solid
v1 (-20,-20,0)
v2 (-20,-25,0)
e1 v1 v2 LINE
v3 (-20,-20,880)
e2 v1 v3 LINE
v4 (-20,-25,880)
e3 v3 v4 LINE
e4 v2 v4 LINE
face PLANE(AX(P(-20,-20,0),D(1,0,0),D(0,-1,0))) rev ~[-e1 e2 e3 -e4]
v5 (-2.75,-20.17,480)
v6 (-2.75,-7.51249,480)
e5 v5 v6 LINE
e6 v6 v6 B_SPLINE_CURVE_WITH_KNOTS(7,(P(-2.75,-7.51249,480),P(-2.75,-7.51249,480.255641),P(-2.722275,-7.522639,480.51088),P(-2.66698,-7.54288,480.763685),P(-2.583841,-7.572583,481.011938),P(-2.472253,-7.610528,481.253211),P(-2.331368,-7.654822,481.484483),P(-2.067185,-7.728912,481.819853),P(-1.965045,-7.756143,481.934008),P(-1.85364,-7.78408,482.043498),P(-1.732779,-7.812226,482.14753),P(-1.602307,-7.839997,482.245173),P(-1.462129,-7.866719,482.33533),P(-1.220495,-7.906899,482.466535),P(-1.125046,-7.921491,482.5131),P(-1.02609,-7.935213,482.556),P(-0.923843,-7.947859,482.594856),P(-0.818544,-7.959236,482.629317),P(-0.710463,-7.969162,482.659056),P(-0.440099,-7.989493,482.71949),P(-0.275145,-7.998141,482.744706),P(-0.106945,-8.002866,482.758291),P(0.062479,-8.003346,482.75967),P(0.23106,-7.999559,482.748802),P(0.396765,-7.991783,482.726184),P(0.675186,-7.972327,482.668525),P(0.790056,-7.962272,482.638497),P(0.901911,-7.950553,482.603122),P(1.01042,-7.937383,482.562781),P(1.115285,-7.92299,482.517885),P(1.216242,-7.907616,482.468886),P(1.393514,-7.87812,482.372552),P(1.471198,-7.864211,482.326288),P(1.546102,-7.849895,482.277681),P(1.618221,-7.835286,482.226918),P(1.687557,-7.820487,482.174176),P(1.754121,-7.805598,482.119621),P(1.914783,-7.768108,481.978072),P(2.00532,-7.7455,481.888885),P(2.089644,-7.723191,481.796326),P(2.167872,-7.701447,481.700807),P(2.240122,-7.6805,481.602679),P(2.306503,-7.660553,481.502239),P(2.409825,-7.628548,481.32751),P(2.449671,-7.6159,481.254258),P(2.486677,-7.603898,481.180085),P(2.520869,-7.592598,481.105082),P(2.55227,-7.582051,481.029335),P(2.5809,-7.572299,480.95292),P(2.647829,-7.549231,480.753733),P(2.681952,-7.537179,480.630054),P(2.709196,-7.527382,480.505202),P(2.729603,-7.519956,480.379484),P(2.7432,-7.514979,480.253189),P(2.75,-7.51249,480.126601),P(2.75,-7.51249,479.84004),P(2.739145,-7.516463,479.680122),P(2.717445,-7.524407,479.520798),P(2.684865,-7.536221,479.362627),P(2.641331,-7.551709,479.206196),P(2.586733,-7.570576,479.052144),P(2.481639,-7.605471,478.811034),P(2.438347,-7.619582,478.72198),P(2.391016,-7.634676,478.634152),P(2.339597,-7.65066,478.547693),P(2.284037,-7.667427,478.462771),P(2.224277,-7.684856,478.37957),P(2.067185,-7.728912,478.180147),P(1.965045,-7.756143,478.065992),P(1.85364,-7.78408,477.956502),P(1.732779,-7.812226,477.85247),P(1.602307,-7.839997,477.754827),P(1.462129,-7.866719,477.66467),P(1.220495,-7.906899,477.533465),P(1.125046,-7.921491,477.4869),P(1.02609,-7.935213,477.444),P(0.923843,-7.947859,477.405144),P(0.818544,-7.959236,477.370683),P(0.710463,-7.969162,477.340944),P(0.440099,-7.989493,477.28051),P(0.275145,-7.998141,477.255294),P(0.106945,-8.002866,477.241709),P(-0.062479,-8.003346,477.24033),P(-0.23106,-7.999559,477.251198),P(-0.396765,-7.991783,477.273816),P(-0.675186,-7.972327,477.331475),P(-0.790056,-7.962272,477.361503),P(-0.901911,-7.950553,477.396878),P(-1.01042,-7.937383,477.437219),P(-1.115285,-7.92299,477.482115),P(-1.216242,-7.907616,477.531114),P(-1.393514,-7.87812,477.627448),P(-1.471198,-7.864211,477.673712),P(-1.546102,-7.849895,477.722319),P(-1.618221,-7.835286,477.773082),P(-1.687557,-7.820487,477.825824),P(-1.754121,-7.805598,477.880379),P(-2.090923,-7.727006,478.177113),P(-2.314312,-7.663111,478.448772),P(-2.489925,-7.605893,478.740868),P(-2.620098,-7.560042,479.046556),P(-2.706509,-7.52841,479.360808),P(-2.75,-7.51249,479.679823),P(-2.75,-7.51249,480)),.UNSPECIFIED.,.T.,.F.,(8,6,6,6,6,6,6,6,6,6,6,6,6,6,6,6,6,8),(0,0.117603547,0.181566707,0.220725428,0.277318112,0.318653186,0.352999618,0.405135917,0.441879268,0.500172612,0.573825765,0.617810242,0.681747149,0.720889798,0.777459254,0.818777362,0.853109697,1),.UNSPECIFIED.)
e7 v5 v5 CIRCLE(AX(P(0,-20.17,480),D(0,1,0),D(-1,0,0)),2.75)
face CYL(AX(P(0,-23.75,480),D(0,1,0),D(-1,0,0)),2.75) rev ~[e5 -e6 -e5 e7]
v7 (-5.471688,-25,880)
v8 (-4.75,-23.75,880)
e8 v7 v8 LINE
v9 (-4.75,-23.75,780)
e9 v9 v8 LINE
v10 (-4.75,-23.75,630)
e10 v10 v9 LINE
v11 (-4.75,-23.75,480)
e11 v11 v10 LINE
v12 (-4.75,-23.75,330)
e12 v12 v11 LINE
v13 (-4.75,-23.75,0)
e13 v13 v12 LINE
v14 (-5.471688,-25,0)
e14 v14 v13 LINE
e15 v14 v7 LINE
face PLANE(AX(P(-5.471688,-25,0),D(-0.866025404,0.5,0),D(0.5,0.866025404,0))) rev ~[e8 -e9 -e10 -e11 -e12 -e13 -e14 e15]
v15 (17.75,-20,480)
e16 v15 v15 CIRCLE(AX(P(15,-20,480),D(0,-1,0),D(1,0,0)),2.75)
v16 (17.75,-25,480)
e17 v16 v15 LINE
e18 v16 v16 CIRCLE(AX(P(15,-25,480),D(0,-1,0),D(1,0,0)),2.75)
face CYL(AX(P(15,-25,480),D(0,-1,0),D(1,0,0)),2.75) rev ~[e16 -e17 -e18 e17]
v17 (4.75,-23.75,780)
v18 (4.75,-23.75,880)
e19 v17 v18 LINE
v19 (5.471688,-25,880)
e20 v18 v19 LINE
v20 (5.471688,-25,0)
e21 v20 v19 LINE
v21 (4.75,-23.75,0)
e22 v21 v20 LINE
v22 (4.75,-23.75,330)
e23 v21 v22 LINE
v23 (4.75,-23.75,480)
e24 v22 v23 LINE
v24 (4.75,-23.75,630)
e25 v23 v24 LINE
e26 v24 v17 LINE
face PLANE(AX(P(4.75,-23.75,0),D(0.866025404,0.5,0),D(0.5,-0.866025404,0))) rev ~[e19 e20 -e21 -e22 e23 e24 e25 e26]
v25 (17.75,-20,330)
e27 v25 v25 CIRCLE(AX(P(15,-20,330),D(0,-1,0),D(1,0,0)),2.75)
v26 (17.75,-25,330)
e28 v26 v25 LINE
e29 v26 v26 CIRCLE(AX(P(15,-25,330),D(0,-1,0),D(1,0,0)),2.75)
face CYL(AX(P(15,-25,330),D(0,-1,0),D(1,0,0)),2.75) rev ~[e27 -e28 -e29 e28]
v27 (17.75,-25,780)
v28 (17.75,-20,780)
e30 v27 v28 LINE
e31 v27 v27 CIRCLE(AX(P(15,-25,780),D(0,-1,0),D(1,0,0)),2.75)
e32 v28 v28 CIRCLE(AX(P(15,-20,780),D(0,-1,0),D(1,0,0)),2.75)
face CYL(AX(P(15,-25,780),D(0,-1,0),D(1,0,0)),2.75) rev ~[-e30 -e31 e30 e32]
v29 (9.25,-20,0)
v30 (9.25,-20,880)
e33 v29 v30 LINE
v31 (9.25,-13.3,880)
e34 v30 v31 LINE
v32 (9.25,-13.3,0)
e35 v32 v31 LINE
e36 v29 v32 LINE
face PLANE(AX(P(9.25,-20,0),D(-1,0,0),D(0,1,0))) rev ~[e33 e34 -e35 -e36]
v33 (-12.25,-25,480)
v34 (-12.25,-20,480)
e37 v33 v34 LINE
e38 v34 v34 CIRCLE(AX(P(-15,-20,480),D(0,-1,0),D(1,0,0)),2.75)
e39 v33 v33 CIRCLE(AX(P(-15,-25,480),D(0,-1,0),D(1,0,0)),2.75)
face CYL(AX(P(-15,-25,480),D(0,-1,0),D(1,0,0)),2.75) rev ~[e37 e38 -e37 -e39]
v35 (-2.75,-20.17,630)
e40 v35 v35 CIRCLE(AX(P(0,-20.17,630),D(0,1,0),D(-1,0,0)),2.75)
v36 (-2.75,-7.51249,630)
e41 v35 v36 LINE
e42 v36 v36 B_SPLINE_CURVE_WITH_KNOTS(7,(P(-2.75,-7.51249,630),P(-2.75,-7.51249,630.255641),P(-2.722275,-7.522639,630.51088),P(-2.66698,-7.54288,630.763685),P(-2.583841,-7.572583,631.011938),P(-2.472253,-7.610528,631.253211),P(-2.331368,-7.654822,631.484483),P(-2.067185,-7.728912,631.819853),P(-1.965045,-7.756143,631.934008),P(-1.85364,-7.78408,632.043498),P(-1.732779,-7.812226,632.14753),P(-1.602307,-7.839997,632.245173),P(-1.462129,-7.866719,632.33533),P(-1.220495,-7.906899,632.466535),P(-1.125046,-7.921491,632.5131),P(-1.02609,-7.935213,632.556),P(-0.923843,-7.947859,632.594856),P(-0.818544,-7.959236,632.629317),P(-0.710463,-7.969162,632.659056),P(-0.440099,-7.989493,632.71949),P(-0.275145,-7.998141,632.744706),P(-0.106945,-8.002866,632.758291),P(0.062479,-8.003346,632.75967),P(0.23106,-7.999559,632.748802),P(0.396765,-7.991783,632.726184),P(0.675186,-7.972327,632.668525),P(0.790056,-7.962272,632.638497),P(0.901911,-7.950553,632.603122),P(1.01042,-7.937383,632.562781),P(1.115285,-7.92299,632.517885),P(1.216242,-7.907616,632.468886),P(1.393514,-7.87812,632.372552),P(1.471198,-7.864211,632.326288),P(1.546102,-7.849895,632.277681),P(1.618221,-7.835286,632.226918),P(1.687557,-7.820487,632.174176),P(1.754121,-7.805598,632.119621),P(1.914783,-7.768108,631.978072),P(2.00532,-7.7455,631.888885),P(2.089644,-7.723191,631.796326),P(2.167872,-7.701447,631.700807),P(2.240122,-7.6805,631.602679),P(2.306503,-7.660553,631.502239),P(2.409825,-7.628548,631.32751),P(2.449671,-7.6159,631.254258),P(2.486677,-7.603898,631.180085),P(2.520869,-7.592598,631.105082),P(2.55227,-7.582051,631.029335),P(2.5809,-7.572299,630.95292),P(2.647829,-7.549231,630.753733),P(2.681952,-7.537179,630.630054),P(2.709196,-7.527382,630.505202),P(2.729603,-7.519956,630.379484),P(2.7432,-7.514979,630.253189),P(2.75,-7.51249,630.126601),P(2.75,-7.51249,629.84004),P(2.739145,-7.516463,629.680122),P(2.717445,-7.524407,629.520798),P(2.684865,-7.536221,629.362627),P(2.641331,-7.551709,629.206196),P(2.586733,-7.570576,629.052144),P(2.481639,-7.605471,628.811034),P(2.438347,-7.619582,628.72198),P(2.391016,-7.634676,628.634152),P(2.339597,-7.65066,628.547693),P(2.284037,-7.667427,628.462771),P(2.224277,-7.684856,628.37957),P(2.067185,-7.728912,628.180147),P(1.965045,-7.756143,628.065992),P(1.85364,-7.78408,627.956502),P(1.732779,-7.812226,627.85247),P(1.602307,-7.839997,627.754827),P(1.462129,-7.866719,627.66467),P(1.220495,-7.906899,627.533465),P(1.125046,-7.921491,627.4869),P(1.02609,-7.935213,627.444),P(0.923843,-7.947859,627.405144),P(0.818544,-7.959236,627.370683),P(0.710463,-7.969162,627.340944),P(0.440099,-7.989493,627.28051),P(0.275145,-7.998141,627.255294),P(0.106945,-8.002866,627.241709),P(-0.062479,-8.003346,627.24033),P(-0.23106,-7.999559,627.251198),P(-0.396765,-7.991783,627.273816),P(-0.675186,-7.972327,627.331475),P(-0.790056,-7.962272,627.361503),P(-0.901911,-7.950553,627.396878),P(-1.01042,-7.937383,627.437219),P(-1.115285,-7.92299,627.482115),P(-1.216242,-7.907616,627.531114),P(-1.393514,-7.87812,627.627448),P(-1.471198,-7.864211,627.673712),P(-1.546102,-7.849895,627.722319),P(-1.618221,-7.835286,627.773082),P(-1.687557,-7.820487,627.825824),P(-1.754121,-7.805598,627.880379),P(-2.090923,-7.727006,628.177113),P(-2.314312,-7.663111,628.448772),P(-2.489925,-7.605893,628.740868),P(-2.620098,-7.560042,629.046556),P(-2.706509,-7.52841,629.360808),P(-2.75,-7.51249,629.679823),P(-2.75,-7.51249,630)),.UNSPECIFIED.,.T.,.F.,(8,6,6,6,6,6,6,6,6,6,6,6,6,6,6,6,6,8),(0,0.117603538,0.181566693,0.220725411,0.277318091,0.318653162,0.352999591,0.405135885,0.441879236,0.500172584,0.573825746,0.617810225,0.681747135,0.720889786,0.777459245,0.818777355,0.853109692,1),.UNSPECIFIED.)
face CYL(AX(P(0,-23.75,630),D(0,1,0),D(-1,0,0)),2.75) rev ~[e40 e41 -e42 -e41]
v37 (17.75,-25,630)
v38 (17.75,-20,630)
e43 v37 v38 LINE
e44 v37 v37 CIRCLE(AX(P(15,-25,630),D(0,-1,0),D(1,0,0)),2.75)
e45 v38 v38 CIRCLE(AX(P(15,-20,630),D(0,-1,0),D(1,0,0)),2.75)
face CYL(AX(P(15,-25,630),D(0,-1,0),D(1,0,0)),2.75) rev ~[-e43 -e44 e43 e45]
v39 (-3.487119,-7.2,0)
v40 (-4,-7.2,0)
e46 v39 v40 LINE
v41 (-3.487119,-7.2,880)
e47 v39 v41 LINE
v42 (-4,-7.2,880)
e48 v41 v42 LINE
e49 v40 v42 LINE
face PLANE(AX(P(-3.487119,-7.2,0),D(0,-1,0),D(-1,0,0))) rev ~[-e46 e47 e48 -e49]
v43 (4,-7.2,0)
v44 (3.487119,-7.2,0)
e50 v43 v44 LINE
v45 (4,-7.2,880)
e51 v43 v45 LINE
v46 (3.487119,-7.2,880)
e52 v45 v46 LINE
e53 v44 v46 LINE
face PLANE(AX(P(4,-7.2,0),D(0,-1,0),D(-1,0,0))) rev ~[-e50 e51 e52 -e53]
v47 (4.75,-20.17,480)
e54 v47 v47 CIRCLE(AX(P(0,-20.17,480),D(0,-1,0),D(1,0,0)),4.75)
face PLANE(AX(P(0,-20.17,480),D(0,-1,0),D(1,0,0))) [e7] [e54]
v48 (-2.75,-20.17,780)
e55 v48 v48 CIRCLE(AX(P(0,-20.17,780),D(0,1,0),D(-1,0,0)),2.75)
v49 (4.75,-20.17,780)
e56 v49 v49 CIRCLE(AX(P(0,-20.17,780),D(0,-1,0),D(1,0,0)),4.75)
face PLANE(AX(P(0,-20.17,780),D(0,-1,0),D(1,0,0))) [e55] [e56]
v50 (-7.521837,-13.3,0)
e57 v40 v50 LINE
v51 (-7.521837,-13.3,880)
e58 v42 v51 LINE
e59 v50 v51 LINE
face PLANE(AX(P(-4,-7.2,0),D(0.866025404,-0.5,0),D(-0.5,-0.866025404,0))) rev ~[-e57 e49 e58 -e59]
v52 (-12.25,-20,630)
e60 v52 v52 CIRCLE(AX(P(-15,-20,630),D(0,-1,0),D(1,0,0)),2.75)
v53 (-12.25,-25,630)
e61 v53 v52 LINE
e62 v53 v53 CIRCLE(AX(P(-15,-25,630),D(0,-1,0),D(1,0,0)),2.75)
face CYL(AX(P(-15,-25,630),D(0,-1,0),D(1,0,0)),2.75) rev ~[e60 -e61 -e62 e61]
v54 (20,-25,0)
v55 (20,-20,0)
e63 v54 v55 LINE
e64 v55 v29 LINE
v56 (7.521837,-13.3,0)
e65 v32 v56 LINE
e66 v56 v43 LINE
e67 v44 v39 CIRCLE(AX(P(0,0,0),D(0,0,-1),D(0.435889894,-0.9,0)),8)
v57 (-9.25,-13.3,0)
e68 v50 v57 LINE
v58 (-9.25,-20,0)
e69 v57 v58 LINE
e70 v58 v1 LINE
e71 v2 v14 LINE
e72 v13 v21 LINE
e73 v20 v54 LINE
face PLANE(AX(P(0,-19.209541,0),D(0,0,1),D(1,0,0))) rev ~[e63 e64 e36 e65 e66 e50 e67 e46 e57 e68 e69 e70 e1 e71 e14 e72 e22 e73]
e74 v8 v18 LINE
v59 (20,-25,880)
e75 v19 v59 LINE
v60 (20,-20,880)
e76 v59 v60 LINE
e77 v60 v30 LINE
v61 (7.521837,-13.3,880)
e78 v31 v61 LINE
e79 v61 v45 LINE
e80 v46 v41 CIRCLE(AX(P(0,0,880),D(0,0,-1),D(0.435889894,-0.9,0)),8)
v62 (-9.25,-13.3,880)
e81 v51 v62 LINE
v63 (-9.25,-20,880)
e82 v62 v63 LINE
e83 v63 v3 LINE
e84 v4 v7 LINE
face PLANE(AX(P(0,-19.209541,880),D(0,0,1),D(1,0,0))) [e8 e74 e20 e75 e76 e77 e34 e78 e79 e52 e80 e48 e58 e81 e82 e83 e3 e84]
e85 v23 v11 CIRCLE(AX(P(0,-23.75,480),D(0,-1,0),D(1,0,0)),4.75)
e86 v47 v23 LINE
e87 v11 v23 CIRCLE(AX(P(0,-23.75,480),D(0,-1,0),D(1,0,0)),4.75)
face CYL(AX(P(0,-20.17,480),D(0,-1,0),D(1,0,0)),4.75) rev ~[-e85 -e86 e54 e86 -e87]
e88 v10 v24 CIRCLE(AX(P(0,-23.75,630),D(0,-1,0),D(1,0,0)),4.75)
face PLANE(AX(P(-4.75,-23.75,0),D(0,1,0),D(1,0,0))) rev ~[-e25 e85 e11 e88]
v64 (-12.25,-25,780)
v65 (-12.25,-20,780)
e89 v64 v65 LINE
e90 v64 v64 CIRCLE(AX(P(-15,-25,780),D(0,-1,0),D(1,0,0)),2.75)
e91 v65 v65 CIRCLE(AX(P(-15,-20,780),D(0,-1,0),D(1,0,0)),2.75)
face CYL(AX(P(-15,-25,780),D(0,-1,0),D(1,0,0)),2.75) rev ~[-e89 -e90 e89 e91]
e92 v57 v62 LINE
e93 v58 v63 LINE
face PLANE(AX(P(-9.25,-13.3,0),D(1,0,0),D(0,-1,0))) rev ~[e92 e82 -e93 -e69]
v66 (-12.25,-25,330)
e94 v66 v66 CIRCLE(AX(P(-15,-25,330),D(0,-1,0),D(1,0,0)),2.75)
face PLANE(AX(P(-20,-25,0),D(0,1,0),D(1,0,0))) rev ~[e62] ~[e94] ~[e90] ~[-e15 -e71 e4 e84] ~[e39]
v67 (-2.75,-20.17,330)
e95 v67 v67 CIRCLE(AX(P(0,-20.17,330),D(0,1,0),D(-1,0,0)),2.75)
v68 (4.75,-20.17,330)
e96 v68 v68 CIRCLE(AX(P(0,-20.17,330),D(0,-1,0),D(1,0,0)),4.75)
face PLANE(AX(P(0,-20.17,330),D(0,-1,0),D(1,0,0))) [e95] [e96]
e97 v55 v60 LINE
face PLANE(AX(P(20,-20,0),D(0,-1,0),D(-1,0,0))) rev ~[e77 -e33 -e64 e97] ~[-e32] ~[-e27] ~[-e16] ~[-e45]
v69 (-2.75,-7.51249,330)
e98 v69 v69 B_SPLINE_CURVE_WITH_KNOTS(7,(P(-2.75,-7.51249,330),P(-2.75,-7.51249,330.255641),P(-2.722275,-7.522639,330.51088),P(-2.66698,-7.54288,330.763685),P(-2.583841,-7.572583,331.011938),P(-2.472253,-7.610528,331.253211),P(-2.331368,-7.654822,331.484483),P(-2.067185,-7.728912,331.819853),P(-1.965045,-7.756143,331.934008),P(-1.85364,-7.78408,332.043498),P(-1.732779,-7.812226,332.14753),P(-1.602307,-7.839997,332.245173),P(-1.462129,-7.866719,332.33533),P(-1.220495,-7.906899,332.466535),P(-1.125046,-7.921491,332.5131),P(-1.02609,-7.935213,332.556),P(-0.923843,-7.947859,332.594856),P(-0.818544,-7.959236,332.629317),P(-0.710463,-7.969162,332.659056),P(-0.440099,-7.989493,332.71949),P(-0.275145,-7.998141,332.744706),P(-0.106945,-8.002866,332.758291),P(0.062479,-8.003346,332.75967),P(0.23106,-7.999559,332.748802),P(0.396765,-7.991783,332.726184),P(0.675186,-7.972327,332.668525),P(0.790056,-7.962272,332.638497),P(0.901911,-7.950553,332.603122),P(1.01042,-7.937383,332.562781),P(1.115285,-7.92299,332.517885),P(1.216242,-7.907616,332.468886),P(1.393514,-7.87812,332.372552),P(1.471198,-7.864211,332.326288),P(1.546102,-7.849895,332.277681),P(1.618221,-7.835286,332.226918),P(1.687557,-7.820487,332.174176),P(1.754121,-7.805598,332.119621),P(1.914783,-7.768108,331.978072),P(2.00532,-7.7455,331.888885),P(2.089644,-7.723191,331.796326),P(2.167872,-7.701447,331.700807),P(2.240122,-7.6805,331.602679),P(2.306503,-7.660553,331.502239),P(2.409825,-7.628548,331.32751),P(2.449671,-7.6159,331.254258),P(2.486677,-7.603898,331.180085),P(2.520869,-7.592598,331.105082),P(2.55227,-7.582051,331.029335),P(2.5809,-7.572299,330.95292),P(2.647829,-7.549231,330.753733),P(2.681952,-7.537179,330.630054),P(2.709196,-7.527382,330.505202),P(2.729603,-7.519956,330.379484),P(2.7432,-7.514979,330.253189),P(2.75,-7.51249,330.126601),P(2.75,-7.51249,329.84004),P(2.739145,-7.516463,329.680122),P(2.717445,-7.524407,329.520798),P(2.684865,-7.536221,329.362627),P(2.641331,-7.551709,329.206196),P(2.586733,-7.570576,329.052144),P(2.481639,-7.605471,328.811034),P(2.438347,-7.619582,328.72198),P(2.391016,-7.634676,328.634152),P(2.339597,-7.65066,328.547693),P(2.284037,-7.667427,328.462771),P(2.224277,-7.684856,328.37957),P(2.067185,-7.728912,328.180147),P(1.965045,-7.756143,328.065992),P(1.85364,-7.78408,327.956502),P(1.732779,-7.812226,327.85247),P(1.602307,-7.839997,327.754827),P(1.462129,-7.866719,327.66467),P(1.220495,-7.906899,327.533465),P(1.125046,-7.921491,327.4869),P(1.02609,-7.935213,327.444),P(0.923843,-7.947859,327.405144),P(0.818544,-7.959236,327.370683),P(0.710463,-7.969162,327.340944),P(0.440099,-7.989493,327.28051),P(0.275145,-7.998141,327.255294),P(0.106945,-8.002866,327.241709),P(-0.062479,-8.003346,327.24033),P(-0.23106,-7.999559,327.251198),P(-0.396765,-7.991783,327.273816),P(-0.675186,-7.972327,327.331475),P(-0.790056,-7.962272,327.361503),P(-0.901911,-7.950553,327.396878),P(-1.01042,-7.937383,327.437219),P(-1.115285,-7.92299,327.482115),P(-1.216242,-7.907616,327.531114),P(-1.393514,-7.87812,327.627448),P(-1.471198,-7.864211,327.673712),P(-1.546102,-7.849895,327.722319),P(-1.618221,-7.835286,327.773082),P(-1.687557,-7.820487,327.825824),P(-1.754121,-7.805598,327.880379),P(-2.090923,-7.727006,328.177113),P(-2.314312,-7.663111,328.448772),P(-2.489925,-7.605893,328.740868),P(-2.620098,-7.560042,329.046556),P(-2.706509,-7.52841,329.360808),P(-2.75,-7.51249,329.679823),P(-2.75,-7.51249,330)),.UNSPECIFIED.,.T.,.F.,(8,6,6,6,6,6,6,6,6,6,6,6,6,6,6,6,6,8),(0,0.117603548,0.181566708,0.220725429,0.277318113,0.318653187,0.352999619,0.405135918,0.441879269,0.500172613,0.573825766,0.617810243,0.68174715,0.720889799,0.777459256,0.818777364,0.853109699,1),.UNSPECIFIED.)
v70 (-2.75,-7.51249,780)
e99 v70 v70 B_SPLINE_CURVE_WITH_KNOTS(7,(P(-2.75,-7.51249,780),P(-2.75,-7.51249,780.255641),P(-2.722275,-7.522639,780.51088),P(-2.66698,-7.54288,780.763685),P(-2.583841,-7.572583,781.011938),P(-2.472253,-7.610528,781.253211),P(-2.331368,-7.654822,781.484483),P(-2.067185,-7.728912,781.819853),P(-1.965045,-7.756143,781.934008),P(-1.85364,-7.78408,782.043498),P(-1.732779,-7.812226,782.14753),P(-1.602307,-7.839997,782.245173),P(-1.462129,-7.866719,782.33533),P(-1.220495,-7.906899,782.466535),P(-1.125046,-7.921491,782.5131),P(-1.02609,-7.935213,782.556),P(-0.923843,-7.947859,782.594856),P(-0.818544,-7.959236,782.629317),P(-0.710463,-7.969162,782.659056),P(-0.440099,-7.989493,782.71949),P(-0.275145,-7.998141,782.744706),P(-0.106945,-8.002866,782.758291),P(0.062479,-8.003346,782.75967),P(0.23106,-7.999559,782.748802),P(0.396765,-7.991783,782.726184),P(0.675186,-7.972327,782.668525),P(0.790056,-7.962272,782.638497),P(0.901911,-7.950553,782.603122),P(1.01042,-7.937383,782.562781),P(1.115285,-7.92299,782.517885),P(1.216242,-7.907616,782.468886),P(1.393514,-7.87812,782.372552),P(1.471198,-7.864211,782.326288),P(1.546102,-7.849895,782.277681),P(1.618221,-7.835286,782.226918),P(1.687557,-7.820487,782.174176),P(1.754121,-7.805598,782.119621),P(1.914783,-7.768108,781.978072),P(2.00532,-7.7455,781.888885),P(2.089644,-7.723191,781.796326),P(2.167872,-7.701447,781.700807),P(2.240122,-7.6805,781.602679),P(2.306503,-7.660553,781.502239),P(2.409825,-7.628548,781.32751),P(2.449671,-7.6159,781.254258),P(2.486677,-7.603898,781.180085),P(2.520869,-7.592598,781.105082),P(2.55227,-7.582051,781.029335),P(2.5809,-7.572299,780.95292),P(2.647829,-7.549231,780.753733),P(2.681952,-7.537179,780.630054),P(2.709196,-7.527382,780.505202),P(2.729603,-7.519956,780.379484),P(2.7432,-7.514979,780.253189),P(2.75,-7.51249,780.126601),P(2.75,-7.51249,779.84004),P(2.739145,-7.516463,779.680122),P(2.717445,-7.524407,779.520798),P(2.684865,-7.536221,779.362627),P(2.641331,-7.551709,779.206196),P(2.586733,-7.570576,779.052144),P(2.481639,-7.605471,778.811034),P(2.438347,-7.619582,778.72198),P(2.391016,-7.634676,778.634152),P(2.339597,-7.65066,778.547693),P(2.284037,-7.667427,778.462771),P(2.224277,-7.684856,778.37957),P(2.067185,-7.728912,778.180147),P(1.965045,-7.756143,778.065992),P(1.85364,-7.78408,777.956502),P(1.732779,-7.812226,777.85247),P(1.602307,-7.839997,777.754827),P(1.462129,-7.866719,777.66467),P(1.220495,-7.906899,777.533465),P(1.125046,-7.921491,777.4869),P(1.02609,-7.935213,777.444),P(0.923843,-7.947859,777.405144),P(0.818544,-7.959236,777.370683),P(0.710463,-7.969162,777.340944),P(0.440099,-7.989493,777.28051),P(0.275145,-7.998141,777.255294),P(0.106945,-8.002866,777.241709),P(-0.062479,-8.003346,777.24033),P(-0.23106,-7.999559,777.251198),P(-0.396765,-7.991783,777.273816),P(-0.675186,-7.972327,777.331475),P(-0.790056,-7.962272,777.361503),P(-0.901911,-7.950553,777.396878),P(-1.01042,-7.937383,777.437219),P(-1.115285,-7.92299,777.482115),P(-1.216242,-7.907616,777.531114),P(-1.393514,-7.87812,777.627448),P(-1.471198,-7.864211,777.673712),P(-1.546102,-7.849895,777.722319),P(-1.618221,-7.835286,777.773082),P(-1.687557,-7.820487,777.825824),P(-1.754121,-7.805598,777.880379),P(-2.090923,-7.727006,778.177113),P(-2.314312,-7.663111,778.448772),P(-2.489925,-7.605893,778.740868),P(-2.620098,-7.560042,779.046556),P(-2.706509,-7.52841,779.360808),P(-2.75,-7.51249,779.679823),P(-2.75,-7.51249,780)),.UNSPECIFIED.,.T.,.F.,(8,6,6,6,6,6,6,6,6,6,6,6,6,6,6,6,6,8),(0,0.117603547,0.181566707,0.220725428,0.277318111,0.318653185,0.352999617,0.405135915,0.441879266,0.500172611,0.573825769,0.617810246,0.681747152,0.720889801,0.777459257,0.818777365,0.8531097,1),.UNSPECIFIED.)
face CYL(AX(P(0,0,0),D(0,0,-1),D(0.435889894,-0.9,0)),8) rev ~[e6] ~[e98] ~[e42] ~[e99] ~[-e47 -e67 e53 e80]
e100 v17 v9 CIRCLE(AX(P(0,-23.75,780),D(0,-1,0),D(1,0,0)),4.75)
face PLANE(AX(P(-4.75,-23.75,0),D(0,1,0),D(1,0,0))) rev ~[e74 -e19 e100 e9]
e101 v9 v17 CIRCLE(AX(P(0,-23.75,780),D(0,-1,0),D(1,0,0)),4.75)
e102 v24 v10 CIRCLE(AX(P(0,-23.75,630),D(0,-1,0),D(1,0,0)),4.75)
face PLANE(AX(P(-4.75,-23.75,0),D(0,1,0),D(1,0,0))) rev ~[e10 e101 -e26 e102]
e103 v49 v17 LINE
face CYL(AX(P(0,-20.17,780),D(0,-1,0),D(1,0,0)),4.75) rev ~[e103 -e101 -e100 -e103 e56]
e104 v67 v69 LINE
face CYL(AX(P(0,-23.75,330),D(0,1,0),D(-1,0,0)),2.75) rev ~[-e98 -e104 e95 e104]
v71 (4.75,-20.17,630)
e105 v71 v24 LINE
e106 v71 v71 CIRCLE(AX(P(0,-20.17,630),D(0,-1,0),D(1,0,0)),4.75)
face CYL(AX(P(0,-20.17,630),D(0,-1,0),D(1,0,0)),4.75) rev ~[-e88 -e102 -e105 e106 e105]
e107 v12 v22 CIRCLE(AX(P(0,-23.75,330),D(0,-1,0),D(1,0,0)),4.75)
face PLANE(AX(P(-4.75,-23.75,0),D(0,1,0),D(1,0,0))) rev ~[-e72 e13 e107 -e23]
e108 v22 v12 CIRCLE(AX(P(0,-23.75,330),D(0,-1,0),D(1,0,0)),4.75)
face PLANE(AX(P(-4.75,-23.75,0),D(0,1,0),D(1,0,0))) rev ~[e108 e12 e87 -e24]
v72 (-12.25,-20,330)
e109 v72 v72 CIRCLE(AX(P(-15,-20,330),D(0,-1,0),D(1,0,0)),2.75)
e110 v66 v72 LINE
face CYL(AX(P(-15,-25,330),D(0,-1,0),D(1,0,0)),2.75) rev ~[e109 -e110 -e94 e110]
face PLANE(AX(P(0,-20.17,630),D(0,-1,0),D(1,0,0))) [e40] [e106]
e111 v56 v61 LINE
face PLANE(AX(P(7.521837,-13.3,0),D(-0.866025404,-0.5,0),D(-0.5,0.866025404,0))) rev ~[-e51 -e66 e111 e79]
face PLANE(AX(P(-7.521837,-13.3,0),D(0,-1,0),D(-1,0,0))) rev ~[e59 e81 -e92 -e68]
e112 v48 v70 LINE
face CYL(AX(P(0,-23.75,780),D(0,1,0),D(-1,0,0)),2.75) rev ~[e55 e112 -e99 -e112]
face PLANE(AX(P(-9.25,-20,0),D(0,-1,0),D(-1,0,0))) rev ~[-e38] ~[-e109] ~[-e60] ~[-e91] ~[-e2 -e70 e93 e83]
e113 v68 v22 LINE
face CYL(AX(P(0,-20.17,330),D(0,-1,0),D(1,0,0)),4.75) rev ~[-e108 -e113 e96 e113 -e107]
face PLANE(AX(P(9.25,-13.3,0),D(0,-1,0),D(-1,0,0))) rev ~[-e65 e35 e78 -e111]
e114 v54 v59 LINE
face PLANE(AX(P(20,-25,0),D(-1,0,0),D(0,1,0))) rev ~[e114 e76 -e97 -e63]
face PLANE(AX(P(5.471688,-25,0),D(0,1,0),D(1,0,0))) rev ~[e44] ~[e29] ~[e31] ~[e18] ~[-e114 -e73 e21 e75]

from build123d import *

# Parameters (mm, degrees)
LENGTH_DEPTH                            = 880
CUT_EXTRUDE1_REACH                      = 882.407
SKETCH2_R                               = 2.75
CBORE_FOR_M5_HEX_HEAD_BOLT1_D           = 5.5
CBORE_FOR_M5_HEX_HEAD_BOLT1_CBORE_D     = 9.5
CBORE_FOR_M5_HEX_HEAD_BOLT1_CBORE_DEPTH = 3.58
LPATTERN1_COUNT                         = 4
LPATTERN1_PITCH                         = 150
LPATTERN2_COUNT                         = 4
LPATTERN2_PITCH                         = 150


with BuildPart() as part:
    # Sketch1 → Length (new body)
    with BuildSketch(Plane.XY):
        with BuildLine():
            Line((-20, -25), (-5.471687836, -25))
            Line((-5.471687836, -25), (-4.75, -23.75))
            Line((-4.75, -23.75), (4.75, -23.75))
            Line((4.75, -23.75), (5.471687836, -25))
            Line((5.471687836, -25), (20, -25))
            Line((20, -25), (20, -20))
            Line((20, -20), (9.25, -20))
            Line((9.25, -20), (9.25, -13.3))
            Line((9.25, -13.3), (7.521836642, -13.3))
            Line((7.521836642, -13.3), (4, -7.2))
            Line((4, -7.2), (3.487119155, -7.2))
            ThreePointArc((3.487119155, -7.2), (0, -8), (-3.487119155, -7.2))
            Line((-3.487119155, -7.2), (-4, -7.2))
            Line((-4, -7.2), (-7.521836642, -13.3))
            Line((-7.521836642, -13.3), (-9.25, -13.3))
            Line((-9.25, -13.3), (-9.25, -20))
            Line((-9.25, -20), (-20, -20))
            Line((-20, -20), (-20, -25))
        make_face()
    extrude(amount=LENGTH_DEPTH)

    # Sketch2 → Cut-Extrude1 (cut, up to next)
    with BuildSketch(Plane.XZ.offset(25), mode=Mode.PRIVATE) as cut_extrude1_sk1:
        with Locations((-15, 780)):
            Circle(SKETCH2_R)
    cut_extrude1_tool1 = extrude(cut_extrude1_sk1.sketch, amount=-CUT_EXTRUDE1_REACH, mode=Mode.PRIVATE) & part.part
    # Sketch2 → Cut-Extrude1 (cut, up to next)
    with BuildSketch(Plane.XZ.offset(25), mode=Mode.PRIVATE) as cut_extrude1_sk2:
        with Locations((15, 780)):
            Circle(SKETCH2_R)
    cut_extrude1_tool2 = extrude(cut_extrude1_sk2.sketch, amount=-CUT_EXTRUDE1_REACH, mode=Mode.PRIVATE) & part.part
    cut_extrude1_1 = cut_extrude1_tool1.solids().sort_by_distance((-15, -25, 780))[0]
    add(cut_extrude1_1, mode=Mode.SUBTRACT)
    cut_extrude1_2 = cut_extrude1_tool2.solids().sort_by_distance((15, -25, 780))[0]
    add(cut_extrude1_2, mode=Mode.SUBTRACT)
    cut_extrude1 = cut_extrude1_1 + cut_extrude1_2  # Cut-Extrude1 as one shape, for the pattern or mirror that repeats it

    # CBORE for M5 Hex Head Bolt1 (through all)
    with Locations(Plane.XZ.offset(23.75)):
        with Locations((0, 780)):
            cbore_for_m5_hex_head_bolt1 = CounterBoreHole(CBORE_FOR_M5_HEX_HEAD_BOLT1_D / 2, CBORE_FOR_M5_HEX_HEAD_BOLT1_CBORE_D / 2, CBORE_FOR_M5_HEX_HEAD_BOLT1_CBORE_DEPTH)

    # LPattern1: Cut-Extrude1 ×4
    with Locations(*[(0, 0, -i * LPATTERN1_PITCH) for i in range(1, LPATTERN1_COUNT)]):
        add(cut_extrude1, mode=Mode.SUBTRACT)

    # LPattern2: CBORE for M5 Hex Head Bolt1 ×4
    with Locations(*[(0, 0, -i * LPATTERN2_PITCH) for i in range(1, LPATTERN2_COUNT)]):
        add(cbore_for_m5_hex_head_bolt1, mode=Mode.SUBTRACT)


solid = part.part
